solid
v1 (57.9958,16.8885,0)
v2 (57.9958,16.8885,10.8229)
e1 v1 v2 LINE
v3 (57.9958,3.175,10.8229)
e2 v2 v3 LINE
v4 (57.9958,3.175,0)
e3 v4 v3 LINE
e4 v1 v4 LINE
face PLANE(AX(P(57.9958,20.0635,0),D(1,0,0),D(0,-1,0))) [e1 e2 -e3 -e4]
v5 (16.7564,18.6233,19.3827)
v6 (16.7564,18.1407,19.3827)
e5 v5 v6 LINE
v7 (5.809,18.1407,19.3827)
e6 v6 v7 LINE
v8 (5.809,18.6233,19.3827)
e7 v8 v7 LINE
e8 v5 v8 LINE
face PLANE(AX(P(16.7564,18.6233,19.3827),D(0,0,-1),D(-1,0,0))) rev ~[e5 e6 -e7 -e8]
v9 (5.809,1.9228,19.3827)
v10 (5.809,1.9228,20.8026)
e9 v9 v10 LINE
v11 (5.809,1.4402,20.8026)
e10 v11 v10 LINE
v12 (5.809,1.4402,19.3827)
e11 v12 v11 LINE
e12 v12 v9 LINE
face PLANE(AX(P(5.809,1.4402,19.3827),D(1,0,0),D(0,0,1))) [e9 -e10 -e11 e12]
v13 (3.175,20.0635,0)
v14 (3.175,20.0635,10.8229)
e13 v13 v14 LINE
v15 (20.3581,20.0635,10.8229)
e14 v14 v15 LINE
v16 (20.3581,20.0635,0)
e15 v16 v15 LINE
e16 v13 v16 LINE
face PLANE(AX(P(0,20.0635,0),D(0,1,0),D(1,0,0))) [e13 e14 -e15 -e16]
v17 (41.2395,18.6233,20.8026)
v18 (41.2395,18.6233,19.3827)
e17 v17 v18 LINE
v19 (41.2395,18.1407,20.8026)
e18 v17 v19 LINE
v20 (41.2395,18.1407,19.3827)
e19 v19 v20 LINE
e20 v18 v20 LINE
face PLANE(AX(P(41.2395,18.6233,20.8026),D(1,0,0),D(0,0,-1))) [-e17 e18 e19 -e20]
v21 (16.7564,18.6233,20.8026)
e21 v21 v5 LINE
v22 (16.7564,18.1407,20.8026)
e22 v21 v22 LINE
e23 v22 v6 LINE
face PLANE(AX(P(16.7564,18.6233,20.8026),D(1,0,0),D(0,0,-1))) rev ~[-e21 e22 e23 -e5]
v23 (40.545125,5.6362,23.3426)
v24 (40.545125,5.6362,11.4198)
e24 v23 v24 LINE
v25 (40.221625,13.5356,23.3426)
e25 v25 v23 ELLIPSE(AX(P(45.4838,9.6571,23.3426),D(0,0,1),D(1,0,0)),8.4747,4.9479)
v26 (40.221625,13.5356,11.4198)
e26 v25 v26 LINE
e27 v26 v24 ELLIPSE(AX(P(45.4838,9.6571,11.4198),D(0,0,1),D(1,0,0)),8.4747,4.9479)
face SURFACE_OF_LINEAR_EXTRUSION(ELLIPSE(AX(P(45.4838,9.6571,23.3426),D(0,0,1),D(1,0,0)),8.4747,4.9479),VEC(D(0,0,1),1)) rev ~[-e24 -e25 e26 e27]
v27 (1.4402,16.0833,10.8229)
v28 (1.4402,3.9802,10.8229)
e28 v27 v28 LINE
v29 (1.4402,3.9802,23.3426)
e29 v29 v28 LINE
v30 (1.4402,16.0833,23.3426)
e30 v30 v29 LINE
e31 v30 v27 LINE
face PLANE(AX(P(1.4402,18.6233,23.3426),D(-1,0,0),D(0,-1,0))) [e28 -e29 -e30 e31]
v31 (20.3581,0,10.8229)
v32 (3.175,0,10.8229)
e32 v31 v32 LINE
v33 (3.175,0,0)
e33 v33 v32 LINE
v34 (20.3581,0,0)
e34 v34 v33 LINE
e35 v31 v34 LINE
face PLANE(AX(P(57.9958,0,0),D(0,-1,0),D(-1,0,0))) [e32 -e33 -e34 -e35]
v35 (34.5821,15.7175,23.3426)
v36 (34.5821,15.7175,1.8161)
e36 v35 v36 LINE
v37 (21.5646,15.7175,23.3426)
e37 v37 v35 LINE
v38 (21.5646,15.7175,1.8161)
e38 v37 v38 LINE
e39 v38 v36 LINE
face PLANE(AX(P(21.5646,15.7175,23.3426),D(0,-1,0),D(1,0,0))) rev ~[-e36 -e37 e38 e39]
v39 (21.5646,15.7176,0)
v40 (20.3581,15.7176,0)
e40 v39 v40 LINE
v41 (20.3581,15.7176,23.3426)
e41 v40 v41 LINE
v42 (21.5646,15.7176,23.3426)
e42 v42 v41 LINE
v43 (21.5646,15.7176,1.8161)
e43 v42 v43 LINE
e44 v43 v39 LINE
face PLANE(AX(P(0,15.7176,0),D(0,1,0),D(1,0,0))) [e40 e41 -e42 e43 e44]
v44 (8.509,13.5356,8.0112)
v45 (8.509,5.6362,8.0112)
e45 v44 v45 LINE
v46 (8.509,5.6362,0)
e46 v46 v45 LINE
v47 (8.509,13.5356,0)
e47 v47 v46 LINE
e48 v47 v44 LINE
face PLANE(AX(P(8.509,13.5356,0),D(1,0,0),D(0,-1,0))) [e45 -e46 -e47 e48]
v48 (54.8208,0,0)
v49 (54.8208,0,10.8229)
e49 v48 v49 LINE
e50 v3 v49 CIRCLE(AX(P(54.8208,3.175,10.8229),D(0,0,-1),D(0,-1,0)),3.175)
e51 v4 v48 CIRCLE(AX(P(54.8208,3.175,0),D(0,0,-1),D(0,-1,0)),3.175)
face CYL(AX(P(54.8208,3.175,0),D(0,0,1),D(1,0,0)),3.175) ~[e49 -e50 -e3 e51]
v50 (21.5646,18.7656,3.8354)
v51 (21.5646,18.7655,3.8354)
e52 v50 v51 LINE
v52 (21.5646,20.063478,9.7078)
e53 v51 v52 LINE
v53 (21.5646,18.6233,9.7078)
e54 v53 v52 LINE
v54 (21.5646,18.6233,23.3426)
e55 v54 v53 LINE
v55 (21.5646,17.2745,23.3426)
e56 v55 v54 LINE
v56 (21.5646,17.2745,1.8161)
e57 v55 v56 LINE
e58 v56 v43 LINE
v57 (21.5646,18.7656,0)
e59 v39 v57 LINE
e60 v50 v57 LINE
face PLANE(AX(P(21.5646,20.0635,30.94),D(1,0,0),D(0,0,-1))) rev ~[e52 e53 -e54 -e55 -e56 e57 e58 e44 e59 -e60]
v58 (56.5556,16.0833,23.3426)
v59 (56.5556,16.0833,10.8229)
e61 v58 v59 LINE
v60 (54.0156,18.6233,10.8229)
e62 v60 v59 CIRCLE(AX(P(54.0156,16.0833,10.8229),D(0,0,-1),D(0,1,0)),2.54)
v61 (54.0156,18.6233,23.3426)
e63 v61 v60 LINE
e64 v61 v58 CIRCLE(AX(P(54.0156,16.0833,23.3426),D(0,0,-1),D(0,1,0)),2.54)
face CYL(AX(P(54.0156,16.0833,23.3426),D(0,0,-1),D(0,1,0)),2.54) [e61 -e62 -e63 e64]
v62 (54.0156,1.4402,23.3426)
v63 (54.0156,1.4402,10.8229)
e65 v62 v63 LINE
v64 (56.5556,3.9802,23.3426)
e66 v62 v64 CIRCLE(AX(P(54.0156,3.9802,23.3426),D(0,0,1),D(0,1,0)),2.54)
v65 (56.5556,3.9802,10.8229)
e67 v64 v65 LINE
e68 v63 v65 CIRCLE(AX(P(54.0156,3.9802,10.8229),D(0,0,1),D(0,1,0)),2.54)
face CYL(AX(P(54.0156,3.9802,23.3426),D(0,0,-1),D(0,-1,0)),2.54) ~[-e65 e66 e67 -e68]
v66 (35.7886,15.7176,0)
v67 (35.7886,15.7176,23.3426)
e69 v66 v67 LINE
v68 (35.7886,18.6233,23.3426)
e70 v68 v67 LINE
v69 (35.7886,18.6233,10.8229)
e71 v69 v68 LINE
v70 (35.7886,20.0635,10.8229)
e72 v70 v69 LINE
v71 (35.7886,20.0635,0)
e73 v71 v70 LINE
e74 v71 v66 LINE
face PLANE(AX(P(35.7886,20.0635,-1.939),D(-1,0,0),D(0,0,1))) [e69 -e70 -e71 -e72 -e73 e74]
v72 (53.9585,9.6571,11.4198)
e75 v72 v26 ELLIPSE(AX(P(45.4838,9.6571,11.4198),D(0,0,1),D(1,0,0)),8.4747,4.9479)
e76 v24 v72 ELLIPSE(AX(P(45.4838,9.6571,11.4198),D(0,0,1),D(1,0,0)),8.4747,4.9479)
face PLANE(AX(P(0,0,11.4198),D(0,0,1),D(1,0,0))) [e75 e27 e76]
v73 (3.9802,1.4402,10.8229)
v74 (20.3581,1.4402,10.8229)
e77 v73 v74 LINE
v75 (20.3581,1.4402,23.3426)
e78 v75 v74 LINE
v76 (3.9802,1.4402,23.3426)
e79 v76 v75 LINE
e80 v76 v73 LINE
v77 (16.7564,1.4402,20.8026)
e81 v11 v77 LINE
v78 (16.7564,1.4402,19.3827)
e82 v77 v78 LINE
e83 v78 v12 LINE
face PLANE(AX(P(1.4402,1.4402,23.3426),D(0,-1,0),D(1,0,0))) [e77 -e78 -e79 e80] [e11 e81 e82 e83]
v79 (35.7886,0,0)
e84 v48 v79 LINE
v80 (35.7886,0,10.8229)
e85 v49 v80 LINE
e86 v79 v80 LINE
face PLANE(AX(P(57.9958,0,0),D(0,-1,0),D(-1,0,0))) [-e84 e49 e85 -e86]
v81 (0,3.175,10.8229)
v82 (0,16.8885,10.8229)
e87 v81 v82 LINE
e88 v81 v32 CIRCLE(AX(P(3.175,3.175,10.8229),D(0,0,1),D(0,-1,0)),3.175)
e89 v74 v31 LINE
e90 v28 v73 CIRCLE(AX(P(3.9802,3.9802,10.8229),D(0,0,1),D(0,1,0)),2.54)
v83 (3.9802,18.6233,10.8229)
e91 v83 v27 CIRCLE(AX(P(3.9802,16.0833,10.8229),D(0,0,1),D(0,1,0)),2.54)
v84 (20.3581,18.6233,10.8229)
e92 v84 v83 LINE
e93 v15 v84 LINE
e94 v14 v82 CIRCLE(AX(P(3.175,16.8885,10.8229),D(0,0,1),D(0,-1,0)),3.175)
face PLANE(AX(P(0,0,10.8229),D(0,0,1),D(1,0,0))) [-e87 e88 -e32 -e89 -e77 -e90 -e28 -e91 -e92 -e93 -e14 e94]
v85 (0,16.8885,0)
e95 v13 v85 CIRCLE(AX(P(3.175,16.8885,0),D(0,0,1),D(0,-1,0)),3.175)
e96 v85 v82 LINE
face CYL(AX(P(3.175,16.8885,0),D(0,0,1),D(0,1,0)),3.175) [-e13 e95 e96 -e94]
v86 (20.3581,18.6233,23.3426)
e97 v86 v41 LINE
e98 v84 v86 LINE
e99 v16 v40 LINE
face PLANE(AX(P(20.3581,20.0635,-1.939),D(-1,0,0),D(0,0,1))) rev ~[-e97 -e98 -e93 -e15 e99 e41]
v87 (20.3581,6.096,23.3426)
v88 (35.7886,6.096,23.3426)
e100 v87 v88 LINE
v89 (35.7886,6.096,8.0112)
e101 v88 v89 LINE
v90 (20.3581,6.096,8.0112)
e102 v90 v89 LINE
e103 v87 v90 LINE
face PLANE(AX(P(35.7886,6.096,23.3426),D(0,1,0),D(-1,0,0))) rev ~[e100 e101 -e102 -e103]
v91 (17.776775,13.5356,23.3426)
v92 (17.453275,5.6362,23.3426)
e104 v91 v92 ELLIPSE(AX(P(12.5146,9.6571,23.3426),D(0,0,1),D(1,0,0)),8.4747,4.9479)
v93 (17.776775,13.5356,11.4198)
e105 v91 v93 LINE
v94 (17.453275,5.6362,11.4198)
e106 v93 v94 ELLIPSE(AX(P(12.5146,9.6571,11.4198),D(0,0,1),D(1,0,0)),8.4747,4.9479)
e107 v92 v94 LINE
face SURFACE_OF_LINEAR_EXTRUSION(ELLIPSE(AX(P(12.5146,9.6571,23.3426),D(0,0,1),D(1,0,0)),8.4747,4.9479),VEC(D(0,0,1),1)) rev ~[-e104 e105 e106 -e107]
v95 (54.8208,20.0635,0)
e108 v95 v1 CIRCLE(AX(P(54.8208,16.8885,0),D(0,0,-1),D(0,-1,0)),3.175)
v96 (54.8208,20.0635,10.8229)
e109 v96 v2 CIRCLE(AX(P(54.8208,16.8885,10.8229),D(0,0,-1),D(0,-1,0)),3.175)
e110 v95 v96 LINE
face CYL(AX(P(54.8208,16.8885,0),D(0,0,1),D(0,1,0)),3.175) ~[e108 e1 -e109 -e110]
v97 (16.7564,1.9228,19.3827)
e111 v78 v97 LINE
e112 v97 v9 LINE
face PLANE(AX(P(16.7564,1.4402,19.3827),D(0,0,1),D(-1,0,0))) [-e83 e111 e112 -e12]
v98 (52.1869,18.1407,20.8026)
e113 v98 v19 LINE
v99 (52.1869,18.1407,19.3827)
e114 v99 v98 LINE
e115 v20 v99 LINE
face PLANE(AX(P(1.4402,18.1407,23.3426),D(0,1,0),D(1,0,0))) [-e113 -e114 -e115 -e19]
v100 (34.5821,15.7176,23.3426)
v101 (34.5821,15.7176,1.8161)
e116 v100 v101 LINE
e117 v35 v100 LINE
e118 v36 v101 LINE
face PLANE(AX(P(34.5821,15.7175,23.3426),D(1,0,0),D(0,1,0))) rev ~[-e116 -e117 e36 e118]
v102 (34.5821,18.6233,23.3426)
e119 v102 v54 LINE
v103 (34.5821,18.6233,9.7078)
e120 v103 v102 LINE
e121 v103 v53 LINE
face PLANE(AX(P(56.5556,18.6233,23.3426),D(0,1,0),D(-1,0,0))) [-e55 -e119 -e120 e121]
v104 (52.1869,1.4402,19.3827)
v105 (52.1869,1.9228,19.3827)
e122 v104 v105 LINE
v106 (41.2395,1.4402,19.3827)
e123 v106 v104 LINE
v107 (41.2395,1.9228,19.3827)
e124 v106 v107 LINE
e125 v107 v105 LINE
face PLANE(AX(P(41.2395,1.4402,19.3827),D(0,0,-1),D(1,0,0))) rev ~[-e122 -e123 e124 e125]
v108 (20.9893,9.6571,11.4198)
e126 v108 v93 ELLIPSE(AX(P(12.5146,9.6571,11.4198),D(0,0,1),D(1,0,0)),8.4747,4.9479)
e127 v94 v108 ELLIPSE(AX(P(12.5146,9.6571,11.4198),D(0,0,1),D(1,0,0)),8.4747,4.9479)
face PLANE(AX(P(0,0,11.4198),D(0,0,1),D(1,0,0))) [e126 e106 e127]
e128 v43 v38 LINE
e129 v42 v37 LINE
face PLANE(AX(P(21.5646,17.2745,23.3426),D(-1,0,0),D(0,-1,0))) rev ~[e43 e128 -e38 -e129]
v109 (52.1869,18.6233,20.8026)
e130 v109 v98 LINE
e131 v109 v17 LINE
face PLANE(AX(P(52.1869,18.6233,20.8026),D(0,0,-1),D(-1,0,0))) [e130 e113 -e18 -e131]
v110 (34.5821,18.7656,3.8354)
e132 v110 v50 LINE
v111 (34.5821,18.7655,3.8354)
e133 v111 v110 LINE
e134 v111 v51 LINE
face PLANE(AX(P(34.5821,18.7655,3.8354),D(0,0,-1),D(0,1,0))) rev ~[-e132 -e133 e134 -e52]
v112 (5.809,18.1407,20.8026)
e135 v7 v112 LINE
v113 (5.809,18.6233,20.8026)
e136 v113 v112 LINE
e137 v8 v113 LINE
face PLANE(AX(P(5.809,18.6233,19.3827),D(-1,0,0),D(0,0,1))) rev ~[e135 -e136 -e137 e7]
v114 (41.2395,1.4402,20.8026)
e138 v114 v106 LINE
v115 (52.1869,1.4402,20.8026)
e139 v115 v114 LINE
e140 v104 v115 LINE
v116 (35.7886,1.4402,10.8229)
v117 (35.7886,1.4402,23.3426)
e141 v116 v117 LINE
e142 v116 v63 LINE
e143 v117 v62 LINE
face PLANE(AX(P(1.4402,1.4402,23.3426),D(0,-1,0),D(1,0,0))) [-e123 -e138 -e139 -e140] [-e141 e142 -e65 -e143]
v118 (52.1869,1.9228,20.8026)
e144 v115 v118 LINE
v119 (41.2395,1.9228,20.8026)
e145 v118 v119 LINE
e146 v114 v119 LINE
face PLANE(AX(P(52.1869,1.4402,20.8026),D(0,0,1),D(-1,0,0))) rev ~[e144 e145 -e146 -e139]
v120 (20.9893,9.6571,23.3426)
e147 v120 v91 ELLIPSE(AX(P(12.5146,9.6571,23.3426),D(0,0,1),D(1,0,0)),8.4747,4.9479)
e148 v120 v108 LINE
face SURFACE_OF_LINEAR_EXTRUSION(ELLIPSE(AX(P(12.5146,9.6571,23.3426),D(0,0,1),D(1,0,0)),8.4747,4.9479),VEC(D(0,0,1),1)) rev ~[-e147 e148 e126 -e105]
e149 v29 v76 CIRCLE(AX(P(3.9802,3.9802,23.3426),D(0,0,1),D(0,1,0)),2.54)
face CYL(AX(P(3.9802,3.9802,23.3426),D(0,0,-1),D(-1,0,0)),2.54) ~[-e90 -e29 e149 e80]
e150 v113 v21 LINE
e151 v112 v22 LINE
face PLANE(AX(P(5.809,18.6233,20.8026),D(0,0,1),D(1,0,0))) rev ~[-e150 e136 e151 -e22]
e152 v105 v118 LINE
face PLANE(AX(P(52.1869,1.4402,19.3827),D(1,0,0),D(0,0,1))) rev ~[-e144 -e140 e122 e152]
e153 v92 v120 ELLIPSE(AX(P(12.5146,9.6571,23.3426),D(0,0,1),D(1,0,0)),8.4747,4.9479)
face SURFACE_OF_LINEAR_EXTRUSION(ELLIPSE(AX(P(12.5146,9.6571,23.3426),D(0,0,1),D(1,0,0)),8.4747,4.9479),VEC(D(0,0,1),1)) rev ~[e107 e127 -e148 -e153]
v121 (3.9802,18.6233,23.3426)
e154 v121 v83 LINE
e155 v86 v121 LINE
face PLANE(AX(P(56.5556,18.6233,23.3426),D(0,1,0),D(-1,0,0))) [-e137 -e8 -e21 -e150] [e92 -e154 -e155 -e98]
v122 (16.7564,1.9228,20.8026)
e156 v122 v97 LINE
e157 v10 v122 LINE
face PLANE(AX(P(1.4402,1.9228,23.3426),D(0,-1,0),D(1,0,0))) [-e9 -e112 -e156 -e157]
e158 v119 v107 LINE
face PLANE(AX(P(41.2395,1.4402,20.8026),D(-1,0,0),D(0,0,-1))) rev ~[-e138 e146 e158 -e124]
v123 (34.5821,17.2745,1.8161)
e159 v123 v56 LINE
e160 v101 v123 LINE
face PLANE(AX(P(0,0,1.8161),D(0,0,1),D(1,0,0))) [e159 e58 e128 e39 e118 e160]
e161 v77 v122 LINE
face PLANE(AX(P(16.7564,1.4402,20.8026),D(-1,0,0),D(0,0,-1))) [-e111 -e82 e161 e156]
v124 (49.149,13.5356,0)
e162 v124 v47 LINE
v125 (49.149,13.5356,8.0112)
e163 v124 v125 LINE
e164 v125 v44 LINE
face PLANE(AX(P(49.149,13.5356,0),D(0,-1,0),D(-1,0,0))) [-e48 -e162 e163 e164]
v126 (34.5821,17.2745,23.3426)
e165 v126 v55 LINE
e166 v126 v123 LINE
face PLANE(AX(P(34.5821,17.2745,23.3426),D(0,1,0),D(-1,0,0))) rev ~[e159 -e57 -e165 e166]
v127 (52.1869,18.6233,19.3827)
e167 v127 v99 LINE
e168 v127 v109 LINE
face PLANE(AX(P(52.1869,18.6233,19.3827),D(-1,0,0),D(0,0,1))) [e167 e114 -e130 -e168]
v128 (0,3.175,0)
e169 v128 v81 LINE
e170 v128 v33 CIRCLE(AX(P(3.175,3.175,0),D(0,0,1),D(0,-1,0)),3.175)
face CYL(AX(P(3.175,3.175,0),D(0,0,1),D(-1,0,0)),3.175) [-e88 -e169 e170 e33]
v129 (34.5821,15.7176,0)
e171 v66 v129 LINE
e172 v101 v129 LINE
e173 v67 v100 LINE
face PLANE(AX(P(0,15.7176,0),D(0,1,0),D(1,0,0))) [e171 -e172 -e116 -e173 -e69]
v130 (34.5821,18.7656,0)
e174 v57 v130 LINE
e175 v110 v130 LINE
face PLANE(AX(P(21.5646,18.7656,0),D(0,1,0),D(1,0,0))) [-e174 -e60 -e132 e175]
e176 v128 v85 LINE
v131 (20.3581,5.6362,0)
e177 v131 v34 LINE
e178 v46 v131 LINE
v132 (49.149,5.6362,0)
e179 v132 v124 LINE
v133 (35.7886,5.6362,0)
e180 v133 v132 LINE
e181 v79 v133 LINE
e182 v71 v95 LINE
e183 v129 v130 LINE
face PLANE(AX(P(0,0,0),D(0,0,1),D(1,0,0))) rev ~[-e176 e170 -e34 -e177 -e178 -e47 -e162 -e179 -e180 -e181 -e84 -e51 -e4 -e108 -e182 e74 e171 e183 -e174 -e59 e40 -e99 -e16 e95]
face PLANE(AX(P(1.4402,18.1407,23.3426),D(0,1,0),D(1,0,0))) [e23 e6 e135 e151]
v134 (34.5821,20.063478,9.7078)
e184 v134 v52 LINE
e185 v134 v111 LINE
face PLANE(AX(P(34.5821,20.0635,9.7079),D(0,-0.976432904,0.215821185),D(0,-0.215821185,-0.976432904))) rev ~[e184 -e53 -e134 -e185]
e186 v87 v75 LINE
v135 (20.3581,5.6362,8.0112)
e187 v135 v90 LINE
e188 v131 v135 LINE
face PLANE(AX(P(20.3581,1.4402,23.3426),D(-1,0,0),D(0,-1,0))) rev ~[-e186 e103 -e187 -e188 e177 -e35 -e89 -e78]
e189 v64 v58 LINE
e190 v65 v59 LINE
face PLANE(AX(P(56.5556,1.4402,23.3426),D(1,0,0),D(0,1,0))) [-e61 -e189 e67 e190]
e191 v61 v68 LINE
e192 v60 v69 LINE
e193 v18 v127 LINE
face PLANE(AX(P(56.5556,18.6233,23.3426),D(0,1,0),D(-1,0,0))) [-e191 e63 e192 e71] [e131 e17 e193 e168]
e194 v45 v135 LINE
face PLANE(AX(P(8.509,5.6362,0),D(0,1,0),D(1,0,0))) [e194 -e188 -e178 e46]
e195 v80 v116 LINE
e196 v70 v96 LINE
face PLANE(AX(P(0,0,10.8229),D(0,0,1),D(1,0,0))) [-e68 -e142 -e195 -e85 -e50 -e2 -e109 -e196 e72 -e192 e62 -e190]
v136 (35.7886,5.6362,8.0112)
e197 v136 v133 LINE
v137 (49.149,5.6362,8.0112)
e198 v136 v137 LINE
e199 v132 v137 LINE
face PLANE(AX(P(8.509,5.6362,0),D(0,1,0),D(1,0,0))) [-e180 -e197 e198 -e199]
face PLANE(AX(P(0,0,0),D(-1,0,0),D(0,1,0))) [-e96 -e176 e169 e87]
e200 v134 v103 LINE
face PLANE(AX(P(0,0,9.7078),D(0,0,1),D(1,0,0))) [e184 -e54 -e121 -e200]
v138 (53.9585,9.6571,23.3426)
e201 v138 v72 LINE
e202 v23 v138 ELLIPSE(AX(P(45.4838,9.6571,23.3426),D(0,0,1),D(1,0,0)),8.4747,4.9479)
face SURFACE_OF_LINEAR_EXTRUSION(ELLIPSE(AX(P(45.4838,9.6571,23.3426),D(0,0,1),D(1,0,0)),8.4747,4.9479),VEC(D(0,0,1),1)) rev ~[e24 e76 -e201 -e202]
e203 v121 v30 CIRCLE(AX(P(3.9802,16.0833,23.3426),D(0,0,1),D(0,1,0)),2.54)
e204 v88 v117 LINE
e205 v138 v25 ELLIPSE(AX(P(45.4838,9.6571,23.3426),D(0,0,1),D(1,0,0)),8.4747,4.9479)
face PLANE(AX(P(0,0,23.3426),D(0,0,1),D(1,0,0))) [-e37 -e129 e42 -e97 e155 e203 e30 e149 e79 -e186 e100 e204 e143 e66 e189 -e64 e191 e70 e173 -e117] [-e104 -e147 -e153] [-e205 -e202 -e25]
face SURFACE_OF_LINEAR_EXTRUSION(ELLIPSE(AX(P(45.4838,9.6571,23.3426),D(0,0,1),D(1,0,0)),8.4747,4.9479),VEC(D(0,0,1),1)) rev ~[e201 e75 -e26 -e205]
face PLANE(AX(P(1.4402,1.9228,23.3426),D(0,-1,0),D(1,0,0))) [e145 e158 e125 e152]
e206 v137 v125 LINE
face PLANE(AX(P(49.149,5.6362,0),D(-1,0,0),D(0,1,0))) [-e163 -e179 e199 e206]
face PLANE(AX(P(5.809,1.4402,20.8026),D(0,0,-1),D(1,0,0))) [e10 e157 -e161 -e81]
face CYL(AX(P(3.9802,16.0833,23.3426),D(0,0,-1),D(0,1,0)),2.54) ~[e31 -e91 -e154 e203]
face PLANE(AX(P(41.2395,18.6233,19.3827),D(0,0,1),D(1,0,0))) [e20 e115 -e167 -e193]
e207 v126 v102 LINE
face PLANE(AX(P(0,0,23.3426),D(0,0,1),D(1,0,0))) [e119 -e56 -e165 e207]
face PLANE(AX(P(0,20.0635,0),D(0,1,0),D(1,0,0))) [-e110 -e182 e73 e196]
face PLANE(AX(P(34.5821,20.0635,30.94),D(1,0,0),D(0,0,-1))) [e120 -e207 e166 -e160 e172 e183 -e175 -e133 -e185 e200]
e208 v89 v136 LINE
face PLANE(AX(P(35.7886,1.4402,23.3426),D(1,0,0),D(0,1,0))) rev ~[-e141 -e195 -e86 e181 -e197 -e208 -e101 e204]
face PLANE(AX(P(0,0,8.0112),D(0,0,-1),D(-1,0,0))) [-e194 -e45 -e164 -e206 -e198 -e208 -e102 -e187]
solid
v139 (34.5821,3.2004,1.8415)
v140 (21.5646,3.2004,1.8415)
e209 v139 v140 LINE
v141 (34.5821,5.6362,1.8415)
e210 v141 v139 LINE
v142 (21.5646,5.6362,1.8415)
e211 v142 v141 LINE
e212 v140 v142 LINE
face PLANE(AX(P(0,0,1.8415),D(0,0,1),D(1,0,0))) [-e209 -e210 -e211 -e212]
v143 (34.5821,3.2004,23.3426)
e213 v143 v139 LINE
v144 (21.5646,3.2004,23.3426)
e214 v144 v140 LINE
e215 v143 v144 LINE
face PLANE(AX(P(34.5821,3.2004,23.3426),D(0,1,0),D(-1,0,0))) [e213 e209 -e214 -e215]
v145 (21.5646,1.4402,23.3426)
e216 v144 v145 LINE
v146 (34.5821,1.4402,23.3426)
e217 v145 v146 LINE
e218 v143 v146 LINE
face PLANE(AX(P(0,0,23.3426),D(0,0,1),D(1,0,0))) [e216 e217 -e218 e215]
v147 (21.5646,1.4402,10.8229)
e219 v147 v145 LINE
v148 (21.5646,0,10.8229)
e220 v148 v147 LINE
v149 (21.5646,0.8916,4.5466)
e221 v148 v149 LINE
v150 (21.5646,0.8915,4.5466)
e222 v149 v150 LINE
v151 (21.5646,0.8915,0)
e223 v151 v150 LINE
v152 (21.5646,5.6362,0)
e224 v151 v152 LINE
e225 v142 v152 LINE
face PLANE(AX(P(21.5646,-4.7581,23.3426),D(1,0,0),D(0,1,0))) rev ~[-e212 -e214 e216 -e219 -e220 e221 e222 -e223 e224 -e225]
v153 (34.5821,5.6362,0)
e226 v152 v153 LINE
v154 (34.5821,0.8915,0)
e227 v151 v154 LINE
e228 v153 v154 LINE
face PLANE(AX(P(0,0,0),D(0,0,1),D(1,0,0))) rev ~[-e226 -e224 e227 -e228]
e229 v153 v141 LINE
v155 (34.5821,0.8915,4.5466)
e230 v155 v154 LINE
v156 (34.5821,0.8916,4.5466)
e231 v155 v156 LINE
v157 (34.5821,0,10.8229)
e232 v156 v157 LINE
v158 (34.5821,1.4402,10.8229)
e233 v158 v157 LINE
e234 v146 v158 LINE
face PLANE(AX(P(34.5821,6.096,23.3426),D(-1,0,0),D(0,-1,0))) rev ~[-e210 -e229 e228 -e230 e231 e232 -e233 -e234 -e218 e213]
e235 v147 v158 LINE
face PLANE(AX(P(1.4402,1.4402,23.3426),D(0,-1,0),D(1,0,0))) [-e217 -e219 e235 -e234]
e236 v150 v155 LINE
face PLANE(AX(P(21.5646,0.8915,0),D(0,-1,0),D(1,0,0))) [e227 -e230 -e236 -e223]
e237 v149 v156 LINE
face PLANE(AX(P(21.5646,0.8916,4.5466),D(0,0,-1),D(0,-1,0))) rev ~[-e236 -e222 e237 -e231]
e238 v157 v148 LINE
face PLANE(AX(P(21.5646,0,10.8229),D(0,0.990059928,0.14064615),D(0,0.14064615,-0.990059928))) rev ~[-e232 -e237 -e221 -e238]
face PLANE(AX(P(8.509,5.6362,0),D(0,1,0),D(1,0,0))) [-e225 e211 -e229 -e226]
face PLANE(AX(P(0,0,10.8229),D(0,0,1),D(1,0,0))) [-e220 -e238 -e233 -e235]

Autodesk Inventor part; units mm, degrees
ref_plane "YZ Plane" through (0, 0, 0) normal (1, 0, 0) x (0, 1, 0)
ref_plane "XZ Plane" through (0, 0, 0) normal (0, 1, 0) x (-1, 0, 0)
ref_plane "XY Plane" through (0, 0, 0) normal (0, 0, 1) x (1, 0, 0)
sketch "Sketch1" plane through (0, 0, 0) normal (0, 0, 1) x (1, 0, 0)
  line L0 (0, 20.0635) -> (57.9958, 20.0635)
  line L1 (57.9958, 20.0635) -> (57.9958, 0)
  line L2 (57.9958, 0) -> (0, 0)
  line L3 (0, 0) -> (0, 20.0635)
  dimension "d0" = 57.9958
  dimension "d1" = 20.0635
extrude "Extrusion1" add sketch "Sketch1" along normal blind 23.3426
sketch "Sketch2" plane through (0, 0, 23.3426) normal (0, 0, 1) x (1, 0, 0)
  line L0 (0, 20.0635) -> (57.9958, 20.0635)
  line L1 (57.9958, 20.0635) -> (57.9958, 0)
  line L2 (57.9958, 0) -> (0, 0)
  line L3 (0, 0) -> (0, 20.0635)
  line L4 (56.5556, 18.6233) -> (1.4402, 18.6233)
  line L5 (1.4402, 18.6233) -> (1.4402, 1.4402)
  line L6 (1.4402, 1.4402) -> (56.5556, 1.4402)
  line L7 (56.5556, 1.4402) -> (56.5556, 18.6233)
  point P0 (0, 0)
  dimension "d4" = 1.4402
extrude "Extrusion2" cut sketch "Sketch2" against normal blind 12.5197
sketch "Sketch3" plane through (1.4402, 18.6233, 23.3426) normal (0, 1, 0) x (1, 0, 0)
  line L0 (0, 0) -> (0, 12.5197) construction
  line L1 (4.3688, 0) -> (4.3688, 2.54) construction
  line L2 (0, 0) -> (55.1155, 0) construction
  line L3 (4.3688, 2.54) -> (15.3162, 2.54)
  line L4 (15.3162, 2.54) -> (15.3162, 3.9599)
  line L5 (15.3162, 3.9599) -> (4.3688, 3.9599)
  line L6 (4.3688, 3.9599) -> (4.3688, 2.54)
  line L7 (55.1155, 0) -> (55.1155, 12.5197) projected
  line L8 (50.7467, 2.54) -> (39.7993, 2.54)
  line L9 (39.7993, 2.54) -> (39.7993, 3.9599)
  line L10 (39.7993, 3.9599) -> (50.7467, 3.9599)
  line L11 (50.7467, 3.9599) -> (50.7467, 2.54)
  point P0 (-1.4402, 23.3426)
  dimension "d9" = 4.3688
  dimension "d10" = 2.54
  dimension "d11" = 10.9474
  dimension "d12" = 1.4199
  dimension "d15" = 2.54
  dimension "d16" = 4.3688
  dimension "d17" = 10.9474
  dimension "d18" = 1.4199
extrude "Extrusion3" cut sketch "Sketch3" against normal blind 0.4826 contours L6 L5 L4 L3
extrude "Extrusion4" cut sketch "Sketch3" against normal blind 0.4826 contours L8 L9 L10 L11
sketch "Sketch4" plane through (1.4402, 1.4402, 23.3426) normal (0, -1, 0) x (1, 0, 0)
  line L0 (50.7467, -2.54) -> (39.7993, -2.54)
  line L1 (39.7993, -2.54) -> (39.7993, -3.9599)
  line L2 (39.7993, -3.9599) -> (50.7467, -3.9599)
  line L3 (50.7467, -3.9599) -> (50.7467, -2.54)
  line L4 (4.3688, -2.54) -> (15.3162, -2.54)
  line L5 (15.3162, -2.54) -> (15.3162, -3.9599)
  line L6 (15.3162, -3.9599) -> (4.3688, -3.9599)
  line L7 (4.3688, -3.9599) -> (4.3688, -2.54)
  point P0 (-1.4402, -23.3426)
extrude "Extrusion5" cut sketch "Sketch4" against normal blind 0.4826
sketch "Sketch5" plane through (0, 0, 0) normal (0, 0, -1) x (-1, 0, 0)
  line L0 (-49.149, 13.5356) -> (-8.509, 13.5356)
  line L1 (-8.509, 13.5356) -> (-8.509, 5.6362)
  line L2 (-8.509, 5.6362) -> (-49.149, 5.6362)
  line L3 (-49.149, 5.6362) -> (-49.149, 13.5356)
  line L4 (0, 0) -> (0, 20.0635) projected
  dimension "d23" = 40.64
  dimension "d24" = 8.509
  dimension "d25" = 7.8994
extrude "Extrusion6" cut sketch "Sketch5" against normal blind 8.0112
sketch "Sketch6" plane through (0, 20.0635, 0) normal (0, 1, 0) x (1, 0, 0)
  line L0 (21.5646, 1.939) -> (20.3581, 1.939)
  line L1 (20.3581, 1.939) -> (20.3581, -30.94)
  line L2 (20.3581, -30.94) -> (21.5646, -30.94)
  line L3 (21.5646, -30.94) -> (21.5646, 1.939)
  line L4 (34.5821, 1.939) -> (35.7886, 1.939)
  line L5 (35.7886, 1.939) -> (35.7886, -30.94)
  line L6 (35.7886, -30.94) -> (34.5821, -30.94)
  line L7 (34.5821, -30.94) -> (34.5821, 1.939)
  line L8 (1.4402, -23.3426) -> (1.4402, -10.8229) projected
  point P0 (0, 0)
  dimension "d28" = 20.1244
  dimension "d29" = 1.2065
  dimension "d30" = 13.0175
  dimension "d31" = 1.2065
extrude "Extrusion7" cut sketch "Sketch6" against normal blind 4.3459
sketch "Sketch7" plane through (0, 0, 10.8229) normal (0, 0, 1) x (1, 0, 0)
  line L0 (21.5646, 20.0635) -> (34.5821, 20.0635)
  line L1 (34.5821, 20.0635) -> (34.5821, 18.6233)
  line L2 (34.5821, 18.6233) -> (21.5646, 18.6233)
  line L3 (21.5646, 18.6233) -> (21.5646, 20.0635)
  point P0 (0, 0)
extrude "Extrusion8" cut sketch "Sketch7" against normal blind 1.1151
sketch "Sketch8" plane through (21.5646, 20.0635, 0) normal (0, 1, 0) x (1, 0, 0)
  line L0 (13.0175, -9.7079) -> (13.0175, 0) projected
  line L1 (0, 0) -> (13.0175, 0)
  line L2 (13.0175, 0) -> (13.0175, -3.8354)
  line L3 (13.0175, -3.8354) -> (0, -3.8354)
  line L4 (0, -3.8354) -> (0, 0)
  point P0 (-21.5646, 0)
  dimension "d36" = 3.8354
extrude "Extrusion9" cut sketch "Sketch8" against normal blind 1.2979
sketch "Sketch10" plane through (0, 0, 23.3426) normal (0, 0, 1) x (1, 0, 0)
  ellipse E0 centre (12.5146, 9.6571) end of major axis (20.9893, 9.6571) minor radius 4.9479
  line L0 (0, 0) -> (0, 20.0635) projected
  line L1 (1.4402, 18.6233) -> (1.4402, 1.4402) projected
  line L2 (49.149, 13.5356) -> (8.509, 13.5356) projected
  line L3 (20.3581, 18.6233) -> (1.4402, 18.6233) projected
  ellipse E1 centre (45.4838, 9.6571) end of major axis (53.9585, 9.6571) minor radius 4.9479
  line L4 (8.509, 5.6362) -> (49.149, 5.6362) projected
  line L5 (35.7886, 20.0635) -> (57.9958, 20.0635) projected
  line L6 (56.5556, 18.6233) -> (35.7886, 18.6233) projected
  dimension "d41" = 8.4747
  dimension "d43" = 4.9479
  dimension "d51" = 4.9479
  dimension "d52" = 8.4747
  dimension "d44" = 11.0744
  dimension "d45" = 8.9662
  dimension "d49" = 32.9692
  dimension "d53" = 8.9662
extrude "Extrusion10" cut sketch "Sketch10" against normal blind 11.9228 contours E0 | E1
sketch "Sketch11" plane through (0, 0, 23.3426) normal (0, 0, 1) x (1, 0, 0)
  line L0 (34.5821, 15.7175) -> (34.5821, 18.6233) projected
  line L1 (21.5646, 15.7175) -> (34.5821, 15.7175)
  line L2 (34.5821, 15.7175) -> (34.5821, 17.2745)
  line L3 (34.5821, 17.2745) -> (21.5646, 17.2745)
  line L4 (21.5646, 17.2745) -> (21.5646, 15.7175)
  line L5 (34.5821, 18.6233) -> (21.5646, 18.6233) projected
  point P0 (0, 0)
  dimension "d57" = 1.3487
extrude "Extrusion11" cut sketch "Sketch11" against normal blind 21.5265
sketch "Sketch12" plane through (34.5821, 18.6233, 9.7079) normal (1, 0, 0) x (0, 0, -1)
  line L0 (0, 1.4402) -> (5.8725, 0.1422)
  line L1 (5.8725, 0.1422) -> (5.8725, 1.4402)
  line L2 (9.7079, 1.4402) -> (-1.1151, 1.4402) projected
  line L3 (5.8725, 1.4402) -> (0, 1.4402)
  point P0 (9.7079, -18.6233)
extrude "Extrusion12" cut sketch "Sketch12" against normal up to next
sketch "Sketch13" plane through (0, 0, 23.3426) normal (0, 0, 1) x (1, 0, 0)
  line L0 (1.4402, 18.6233) -> (1.4402, 1.4402) construction
  point P0 (0, 0)
sketch "Sketch14" plane through (0, 0, 23.3426) normal (0, 0, 1) x (1, 0, 0)
  line L0 (35.7886, 6.096) -> (34.5821, 6.096)
  line L1 (34.5821, 6.096) -> (34.5821, -2.3095)
  line L2 (34.5821, -2.3095) -> (35.7886, -2.3095)
  line L3 (35.7886, -2.3095) -> (35.7886, 6.096)
  line L4 (21.5646, 6.096) -> (20.3581, 6.096)
  line L5 (20.3581, 6.096) -> (20.3581, -4.7581)
  line L6 (20.3581, -4.7581) -> (21.5646, -4.7581)
  line L7 (21.5646, -4.7581) -> (21.5646, 6.096)
  line L8 (1.4402, 1.4402) -> (56.5556, 1.4402) projected
  point P0 (0, 0)
  dimension "d62" = 4.6558
  dimension "d63" = 4.6558
extrude "Extrusion13" cut sketch "Sketch14" against normal blind 2514.6
sketch "Sketch15" plane through (21.5646, 0, 0) normal (0, -1, 0) x (1, 0, 0)
  line L0 (13.0175, 0) -> (0.1116, 0)
  line L1 (13.0175, 10.8229) -> (0, 10.8229) projected
  line L2 (13.0175, 0) -> (0, 0)
  line L3 (0, 0) -> (0, 4.5466)
  line L4 (0, 4.5466) -> (13.0175, 4.5466)
  line L5 (13.0175, 4.5466) -> (13.0175, 0)
  line L6 (0, 10.8229) -> (0, 0) projected
  point P0 (-21.5646, 0)
  dimension "d67" = 4.5466
extrude "Extrusion14" cut sketch "Sketch15" against normal blind 0.8915
sketch "Sketch16" plane through (21.5646, 1.4402, 23.3426) normal (-1, 0, 0) x (0, 0, 1)
  line L0 (-12.5197, -1.4402) -> (-18.796, -0.5486)
  line L1 (-18.796, -0.5486) -> (-18.796, -1.4402)
  line L2 (-18.796, -1.4402) -> (-12.5197, -1.4402)
  line L3 (-12.5197, -1.4402) -> (-18.796, -1.4402) projected
  point P0 (-23.3426, -1.4402)
extrude "Extrusion15" cut sketch "Sketch16" against normal up to next
sketch "Sketch17" plane through (0, 0, 23.3426) normal (0, 0, 1) x (1, 0, 0)
  line L0 (21.5646, 6.096) -> (34.5821, 6.096)
  line L1 (34.5821, 6.096) -> (34.5821, 3.2004)
  line L2 (34.5821, 3.2004) -> (21.5646, 3.2004)
  line L3 (21.5646, 3.2004) -> (21.5646, 6.096)
  point P0 (0, 0)
  dimension "d72" = 2.8956
extrude "Extrusion16" cut sketch "Sketch17" against normal blind 21.5011
fillet "Fillet1" radius 2.54 4 edges at (56.5556, 18.6233, 17.0828) (1.4402, 18.6233, 17.0828) (1.4402, 1.4402, 17.0828) (56.5556, 1.4402, 17.0828)
fillet "Fillet2" radius 3.175 4 edges at (57.9958, 20.0635, 5.4115) (0, 20.0635, 5.4115) (57.9958, 0, 5.4115) (0, 0, 5.4115)
equation "\"d16\" = d9"
equation "\"d17\" = d11"
equation "\"d18\" = d12"
equation "\"d31\" = d29"
equation "\"d51\" = d43"
equation "\"d52\" = d41"
equation "\"d53\" = d45"
equation "\"d63\" = d62"
properties part number "Connector Piece"
